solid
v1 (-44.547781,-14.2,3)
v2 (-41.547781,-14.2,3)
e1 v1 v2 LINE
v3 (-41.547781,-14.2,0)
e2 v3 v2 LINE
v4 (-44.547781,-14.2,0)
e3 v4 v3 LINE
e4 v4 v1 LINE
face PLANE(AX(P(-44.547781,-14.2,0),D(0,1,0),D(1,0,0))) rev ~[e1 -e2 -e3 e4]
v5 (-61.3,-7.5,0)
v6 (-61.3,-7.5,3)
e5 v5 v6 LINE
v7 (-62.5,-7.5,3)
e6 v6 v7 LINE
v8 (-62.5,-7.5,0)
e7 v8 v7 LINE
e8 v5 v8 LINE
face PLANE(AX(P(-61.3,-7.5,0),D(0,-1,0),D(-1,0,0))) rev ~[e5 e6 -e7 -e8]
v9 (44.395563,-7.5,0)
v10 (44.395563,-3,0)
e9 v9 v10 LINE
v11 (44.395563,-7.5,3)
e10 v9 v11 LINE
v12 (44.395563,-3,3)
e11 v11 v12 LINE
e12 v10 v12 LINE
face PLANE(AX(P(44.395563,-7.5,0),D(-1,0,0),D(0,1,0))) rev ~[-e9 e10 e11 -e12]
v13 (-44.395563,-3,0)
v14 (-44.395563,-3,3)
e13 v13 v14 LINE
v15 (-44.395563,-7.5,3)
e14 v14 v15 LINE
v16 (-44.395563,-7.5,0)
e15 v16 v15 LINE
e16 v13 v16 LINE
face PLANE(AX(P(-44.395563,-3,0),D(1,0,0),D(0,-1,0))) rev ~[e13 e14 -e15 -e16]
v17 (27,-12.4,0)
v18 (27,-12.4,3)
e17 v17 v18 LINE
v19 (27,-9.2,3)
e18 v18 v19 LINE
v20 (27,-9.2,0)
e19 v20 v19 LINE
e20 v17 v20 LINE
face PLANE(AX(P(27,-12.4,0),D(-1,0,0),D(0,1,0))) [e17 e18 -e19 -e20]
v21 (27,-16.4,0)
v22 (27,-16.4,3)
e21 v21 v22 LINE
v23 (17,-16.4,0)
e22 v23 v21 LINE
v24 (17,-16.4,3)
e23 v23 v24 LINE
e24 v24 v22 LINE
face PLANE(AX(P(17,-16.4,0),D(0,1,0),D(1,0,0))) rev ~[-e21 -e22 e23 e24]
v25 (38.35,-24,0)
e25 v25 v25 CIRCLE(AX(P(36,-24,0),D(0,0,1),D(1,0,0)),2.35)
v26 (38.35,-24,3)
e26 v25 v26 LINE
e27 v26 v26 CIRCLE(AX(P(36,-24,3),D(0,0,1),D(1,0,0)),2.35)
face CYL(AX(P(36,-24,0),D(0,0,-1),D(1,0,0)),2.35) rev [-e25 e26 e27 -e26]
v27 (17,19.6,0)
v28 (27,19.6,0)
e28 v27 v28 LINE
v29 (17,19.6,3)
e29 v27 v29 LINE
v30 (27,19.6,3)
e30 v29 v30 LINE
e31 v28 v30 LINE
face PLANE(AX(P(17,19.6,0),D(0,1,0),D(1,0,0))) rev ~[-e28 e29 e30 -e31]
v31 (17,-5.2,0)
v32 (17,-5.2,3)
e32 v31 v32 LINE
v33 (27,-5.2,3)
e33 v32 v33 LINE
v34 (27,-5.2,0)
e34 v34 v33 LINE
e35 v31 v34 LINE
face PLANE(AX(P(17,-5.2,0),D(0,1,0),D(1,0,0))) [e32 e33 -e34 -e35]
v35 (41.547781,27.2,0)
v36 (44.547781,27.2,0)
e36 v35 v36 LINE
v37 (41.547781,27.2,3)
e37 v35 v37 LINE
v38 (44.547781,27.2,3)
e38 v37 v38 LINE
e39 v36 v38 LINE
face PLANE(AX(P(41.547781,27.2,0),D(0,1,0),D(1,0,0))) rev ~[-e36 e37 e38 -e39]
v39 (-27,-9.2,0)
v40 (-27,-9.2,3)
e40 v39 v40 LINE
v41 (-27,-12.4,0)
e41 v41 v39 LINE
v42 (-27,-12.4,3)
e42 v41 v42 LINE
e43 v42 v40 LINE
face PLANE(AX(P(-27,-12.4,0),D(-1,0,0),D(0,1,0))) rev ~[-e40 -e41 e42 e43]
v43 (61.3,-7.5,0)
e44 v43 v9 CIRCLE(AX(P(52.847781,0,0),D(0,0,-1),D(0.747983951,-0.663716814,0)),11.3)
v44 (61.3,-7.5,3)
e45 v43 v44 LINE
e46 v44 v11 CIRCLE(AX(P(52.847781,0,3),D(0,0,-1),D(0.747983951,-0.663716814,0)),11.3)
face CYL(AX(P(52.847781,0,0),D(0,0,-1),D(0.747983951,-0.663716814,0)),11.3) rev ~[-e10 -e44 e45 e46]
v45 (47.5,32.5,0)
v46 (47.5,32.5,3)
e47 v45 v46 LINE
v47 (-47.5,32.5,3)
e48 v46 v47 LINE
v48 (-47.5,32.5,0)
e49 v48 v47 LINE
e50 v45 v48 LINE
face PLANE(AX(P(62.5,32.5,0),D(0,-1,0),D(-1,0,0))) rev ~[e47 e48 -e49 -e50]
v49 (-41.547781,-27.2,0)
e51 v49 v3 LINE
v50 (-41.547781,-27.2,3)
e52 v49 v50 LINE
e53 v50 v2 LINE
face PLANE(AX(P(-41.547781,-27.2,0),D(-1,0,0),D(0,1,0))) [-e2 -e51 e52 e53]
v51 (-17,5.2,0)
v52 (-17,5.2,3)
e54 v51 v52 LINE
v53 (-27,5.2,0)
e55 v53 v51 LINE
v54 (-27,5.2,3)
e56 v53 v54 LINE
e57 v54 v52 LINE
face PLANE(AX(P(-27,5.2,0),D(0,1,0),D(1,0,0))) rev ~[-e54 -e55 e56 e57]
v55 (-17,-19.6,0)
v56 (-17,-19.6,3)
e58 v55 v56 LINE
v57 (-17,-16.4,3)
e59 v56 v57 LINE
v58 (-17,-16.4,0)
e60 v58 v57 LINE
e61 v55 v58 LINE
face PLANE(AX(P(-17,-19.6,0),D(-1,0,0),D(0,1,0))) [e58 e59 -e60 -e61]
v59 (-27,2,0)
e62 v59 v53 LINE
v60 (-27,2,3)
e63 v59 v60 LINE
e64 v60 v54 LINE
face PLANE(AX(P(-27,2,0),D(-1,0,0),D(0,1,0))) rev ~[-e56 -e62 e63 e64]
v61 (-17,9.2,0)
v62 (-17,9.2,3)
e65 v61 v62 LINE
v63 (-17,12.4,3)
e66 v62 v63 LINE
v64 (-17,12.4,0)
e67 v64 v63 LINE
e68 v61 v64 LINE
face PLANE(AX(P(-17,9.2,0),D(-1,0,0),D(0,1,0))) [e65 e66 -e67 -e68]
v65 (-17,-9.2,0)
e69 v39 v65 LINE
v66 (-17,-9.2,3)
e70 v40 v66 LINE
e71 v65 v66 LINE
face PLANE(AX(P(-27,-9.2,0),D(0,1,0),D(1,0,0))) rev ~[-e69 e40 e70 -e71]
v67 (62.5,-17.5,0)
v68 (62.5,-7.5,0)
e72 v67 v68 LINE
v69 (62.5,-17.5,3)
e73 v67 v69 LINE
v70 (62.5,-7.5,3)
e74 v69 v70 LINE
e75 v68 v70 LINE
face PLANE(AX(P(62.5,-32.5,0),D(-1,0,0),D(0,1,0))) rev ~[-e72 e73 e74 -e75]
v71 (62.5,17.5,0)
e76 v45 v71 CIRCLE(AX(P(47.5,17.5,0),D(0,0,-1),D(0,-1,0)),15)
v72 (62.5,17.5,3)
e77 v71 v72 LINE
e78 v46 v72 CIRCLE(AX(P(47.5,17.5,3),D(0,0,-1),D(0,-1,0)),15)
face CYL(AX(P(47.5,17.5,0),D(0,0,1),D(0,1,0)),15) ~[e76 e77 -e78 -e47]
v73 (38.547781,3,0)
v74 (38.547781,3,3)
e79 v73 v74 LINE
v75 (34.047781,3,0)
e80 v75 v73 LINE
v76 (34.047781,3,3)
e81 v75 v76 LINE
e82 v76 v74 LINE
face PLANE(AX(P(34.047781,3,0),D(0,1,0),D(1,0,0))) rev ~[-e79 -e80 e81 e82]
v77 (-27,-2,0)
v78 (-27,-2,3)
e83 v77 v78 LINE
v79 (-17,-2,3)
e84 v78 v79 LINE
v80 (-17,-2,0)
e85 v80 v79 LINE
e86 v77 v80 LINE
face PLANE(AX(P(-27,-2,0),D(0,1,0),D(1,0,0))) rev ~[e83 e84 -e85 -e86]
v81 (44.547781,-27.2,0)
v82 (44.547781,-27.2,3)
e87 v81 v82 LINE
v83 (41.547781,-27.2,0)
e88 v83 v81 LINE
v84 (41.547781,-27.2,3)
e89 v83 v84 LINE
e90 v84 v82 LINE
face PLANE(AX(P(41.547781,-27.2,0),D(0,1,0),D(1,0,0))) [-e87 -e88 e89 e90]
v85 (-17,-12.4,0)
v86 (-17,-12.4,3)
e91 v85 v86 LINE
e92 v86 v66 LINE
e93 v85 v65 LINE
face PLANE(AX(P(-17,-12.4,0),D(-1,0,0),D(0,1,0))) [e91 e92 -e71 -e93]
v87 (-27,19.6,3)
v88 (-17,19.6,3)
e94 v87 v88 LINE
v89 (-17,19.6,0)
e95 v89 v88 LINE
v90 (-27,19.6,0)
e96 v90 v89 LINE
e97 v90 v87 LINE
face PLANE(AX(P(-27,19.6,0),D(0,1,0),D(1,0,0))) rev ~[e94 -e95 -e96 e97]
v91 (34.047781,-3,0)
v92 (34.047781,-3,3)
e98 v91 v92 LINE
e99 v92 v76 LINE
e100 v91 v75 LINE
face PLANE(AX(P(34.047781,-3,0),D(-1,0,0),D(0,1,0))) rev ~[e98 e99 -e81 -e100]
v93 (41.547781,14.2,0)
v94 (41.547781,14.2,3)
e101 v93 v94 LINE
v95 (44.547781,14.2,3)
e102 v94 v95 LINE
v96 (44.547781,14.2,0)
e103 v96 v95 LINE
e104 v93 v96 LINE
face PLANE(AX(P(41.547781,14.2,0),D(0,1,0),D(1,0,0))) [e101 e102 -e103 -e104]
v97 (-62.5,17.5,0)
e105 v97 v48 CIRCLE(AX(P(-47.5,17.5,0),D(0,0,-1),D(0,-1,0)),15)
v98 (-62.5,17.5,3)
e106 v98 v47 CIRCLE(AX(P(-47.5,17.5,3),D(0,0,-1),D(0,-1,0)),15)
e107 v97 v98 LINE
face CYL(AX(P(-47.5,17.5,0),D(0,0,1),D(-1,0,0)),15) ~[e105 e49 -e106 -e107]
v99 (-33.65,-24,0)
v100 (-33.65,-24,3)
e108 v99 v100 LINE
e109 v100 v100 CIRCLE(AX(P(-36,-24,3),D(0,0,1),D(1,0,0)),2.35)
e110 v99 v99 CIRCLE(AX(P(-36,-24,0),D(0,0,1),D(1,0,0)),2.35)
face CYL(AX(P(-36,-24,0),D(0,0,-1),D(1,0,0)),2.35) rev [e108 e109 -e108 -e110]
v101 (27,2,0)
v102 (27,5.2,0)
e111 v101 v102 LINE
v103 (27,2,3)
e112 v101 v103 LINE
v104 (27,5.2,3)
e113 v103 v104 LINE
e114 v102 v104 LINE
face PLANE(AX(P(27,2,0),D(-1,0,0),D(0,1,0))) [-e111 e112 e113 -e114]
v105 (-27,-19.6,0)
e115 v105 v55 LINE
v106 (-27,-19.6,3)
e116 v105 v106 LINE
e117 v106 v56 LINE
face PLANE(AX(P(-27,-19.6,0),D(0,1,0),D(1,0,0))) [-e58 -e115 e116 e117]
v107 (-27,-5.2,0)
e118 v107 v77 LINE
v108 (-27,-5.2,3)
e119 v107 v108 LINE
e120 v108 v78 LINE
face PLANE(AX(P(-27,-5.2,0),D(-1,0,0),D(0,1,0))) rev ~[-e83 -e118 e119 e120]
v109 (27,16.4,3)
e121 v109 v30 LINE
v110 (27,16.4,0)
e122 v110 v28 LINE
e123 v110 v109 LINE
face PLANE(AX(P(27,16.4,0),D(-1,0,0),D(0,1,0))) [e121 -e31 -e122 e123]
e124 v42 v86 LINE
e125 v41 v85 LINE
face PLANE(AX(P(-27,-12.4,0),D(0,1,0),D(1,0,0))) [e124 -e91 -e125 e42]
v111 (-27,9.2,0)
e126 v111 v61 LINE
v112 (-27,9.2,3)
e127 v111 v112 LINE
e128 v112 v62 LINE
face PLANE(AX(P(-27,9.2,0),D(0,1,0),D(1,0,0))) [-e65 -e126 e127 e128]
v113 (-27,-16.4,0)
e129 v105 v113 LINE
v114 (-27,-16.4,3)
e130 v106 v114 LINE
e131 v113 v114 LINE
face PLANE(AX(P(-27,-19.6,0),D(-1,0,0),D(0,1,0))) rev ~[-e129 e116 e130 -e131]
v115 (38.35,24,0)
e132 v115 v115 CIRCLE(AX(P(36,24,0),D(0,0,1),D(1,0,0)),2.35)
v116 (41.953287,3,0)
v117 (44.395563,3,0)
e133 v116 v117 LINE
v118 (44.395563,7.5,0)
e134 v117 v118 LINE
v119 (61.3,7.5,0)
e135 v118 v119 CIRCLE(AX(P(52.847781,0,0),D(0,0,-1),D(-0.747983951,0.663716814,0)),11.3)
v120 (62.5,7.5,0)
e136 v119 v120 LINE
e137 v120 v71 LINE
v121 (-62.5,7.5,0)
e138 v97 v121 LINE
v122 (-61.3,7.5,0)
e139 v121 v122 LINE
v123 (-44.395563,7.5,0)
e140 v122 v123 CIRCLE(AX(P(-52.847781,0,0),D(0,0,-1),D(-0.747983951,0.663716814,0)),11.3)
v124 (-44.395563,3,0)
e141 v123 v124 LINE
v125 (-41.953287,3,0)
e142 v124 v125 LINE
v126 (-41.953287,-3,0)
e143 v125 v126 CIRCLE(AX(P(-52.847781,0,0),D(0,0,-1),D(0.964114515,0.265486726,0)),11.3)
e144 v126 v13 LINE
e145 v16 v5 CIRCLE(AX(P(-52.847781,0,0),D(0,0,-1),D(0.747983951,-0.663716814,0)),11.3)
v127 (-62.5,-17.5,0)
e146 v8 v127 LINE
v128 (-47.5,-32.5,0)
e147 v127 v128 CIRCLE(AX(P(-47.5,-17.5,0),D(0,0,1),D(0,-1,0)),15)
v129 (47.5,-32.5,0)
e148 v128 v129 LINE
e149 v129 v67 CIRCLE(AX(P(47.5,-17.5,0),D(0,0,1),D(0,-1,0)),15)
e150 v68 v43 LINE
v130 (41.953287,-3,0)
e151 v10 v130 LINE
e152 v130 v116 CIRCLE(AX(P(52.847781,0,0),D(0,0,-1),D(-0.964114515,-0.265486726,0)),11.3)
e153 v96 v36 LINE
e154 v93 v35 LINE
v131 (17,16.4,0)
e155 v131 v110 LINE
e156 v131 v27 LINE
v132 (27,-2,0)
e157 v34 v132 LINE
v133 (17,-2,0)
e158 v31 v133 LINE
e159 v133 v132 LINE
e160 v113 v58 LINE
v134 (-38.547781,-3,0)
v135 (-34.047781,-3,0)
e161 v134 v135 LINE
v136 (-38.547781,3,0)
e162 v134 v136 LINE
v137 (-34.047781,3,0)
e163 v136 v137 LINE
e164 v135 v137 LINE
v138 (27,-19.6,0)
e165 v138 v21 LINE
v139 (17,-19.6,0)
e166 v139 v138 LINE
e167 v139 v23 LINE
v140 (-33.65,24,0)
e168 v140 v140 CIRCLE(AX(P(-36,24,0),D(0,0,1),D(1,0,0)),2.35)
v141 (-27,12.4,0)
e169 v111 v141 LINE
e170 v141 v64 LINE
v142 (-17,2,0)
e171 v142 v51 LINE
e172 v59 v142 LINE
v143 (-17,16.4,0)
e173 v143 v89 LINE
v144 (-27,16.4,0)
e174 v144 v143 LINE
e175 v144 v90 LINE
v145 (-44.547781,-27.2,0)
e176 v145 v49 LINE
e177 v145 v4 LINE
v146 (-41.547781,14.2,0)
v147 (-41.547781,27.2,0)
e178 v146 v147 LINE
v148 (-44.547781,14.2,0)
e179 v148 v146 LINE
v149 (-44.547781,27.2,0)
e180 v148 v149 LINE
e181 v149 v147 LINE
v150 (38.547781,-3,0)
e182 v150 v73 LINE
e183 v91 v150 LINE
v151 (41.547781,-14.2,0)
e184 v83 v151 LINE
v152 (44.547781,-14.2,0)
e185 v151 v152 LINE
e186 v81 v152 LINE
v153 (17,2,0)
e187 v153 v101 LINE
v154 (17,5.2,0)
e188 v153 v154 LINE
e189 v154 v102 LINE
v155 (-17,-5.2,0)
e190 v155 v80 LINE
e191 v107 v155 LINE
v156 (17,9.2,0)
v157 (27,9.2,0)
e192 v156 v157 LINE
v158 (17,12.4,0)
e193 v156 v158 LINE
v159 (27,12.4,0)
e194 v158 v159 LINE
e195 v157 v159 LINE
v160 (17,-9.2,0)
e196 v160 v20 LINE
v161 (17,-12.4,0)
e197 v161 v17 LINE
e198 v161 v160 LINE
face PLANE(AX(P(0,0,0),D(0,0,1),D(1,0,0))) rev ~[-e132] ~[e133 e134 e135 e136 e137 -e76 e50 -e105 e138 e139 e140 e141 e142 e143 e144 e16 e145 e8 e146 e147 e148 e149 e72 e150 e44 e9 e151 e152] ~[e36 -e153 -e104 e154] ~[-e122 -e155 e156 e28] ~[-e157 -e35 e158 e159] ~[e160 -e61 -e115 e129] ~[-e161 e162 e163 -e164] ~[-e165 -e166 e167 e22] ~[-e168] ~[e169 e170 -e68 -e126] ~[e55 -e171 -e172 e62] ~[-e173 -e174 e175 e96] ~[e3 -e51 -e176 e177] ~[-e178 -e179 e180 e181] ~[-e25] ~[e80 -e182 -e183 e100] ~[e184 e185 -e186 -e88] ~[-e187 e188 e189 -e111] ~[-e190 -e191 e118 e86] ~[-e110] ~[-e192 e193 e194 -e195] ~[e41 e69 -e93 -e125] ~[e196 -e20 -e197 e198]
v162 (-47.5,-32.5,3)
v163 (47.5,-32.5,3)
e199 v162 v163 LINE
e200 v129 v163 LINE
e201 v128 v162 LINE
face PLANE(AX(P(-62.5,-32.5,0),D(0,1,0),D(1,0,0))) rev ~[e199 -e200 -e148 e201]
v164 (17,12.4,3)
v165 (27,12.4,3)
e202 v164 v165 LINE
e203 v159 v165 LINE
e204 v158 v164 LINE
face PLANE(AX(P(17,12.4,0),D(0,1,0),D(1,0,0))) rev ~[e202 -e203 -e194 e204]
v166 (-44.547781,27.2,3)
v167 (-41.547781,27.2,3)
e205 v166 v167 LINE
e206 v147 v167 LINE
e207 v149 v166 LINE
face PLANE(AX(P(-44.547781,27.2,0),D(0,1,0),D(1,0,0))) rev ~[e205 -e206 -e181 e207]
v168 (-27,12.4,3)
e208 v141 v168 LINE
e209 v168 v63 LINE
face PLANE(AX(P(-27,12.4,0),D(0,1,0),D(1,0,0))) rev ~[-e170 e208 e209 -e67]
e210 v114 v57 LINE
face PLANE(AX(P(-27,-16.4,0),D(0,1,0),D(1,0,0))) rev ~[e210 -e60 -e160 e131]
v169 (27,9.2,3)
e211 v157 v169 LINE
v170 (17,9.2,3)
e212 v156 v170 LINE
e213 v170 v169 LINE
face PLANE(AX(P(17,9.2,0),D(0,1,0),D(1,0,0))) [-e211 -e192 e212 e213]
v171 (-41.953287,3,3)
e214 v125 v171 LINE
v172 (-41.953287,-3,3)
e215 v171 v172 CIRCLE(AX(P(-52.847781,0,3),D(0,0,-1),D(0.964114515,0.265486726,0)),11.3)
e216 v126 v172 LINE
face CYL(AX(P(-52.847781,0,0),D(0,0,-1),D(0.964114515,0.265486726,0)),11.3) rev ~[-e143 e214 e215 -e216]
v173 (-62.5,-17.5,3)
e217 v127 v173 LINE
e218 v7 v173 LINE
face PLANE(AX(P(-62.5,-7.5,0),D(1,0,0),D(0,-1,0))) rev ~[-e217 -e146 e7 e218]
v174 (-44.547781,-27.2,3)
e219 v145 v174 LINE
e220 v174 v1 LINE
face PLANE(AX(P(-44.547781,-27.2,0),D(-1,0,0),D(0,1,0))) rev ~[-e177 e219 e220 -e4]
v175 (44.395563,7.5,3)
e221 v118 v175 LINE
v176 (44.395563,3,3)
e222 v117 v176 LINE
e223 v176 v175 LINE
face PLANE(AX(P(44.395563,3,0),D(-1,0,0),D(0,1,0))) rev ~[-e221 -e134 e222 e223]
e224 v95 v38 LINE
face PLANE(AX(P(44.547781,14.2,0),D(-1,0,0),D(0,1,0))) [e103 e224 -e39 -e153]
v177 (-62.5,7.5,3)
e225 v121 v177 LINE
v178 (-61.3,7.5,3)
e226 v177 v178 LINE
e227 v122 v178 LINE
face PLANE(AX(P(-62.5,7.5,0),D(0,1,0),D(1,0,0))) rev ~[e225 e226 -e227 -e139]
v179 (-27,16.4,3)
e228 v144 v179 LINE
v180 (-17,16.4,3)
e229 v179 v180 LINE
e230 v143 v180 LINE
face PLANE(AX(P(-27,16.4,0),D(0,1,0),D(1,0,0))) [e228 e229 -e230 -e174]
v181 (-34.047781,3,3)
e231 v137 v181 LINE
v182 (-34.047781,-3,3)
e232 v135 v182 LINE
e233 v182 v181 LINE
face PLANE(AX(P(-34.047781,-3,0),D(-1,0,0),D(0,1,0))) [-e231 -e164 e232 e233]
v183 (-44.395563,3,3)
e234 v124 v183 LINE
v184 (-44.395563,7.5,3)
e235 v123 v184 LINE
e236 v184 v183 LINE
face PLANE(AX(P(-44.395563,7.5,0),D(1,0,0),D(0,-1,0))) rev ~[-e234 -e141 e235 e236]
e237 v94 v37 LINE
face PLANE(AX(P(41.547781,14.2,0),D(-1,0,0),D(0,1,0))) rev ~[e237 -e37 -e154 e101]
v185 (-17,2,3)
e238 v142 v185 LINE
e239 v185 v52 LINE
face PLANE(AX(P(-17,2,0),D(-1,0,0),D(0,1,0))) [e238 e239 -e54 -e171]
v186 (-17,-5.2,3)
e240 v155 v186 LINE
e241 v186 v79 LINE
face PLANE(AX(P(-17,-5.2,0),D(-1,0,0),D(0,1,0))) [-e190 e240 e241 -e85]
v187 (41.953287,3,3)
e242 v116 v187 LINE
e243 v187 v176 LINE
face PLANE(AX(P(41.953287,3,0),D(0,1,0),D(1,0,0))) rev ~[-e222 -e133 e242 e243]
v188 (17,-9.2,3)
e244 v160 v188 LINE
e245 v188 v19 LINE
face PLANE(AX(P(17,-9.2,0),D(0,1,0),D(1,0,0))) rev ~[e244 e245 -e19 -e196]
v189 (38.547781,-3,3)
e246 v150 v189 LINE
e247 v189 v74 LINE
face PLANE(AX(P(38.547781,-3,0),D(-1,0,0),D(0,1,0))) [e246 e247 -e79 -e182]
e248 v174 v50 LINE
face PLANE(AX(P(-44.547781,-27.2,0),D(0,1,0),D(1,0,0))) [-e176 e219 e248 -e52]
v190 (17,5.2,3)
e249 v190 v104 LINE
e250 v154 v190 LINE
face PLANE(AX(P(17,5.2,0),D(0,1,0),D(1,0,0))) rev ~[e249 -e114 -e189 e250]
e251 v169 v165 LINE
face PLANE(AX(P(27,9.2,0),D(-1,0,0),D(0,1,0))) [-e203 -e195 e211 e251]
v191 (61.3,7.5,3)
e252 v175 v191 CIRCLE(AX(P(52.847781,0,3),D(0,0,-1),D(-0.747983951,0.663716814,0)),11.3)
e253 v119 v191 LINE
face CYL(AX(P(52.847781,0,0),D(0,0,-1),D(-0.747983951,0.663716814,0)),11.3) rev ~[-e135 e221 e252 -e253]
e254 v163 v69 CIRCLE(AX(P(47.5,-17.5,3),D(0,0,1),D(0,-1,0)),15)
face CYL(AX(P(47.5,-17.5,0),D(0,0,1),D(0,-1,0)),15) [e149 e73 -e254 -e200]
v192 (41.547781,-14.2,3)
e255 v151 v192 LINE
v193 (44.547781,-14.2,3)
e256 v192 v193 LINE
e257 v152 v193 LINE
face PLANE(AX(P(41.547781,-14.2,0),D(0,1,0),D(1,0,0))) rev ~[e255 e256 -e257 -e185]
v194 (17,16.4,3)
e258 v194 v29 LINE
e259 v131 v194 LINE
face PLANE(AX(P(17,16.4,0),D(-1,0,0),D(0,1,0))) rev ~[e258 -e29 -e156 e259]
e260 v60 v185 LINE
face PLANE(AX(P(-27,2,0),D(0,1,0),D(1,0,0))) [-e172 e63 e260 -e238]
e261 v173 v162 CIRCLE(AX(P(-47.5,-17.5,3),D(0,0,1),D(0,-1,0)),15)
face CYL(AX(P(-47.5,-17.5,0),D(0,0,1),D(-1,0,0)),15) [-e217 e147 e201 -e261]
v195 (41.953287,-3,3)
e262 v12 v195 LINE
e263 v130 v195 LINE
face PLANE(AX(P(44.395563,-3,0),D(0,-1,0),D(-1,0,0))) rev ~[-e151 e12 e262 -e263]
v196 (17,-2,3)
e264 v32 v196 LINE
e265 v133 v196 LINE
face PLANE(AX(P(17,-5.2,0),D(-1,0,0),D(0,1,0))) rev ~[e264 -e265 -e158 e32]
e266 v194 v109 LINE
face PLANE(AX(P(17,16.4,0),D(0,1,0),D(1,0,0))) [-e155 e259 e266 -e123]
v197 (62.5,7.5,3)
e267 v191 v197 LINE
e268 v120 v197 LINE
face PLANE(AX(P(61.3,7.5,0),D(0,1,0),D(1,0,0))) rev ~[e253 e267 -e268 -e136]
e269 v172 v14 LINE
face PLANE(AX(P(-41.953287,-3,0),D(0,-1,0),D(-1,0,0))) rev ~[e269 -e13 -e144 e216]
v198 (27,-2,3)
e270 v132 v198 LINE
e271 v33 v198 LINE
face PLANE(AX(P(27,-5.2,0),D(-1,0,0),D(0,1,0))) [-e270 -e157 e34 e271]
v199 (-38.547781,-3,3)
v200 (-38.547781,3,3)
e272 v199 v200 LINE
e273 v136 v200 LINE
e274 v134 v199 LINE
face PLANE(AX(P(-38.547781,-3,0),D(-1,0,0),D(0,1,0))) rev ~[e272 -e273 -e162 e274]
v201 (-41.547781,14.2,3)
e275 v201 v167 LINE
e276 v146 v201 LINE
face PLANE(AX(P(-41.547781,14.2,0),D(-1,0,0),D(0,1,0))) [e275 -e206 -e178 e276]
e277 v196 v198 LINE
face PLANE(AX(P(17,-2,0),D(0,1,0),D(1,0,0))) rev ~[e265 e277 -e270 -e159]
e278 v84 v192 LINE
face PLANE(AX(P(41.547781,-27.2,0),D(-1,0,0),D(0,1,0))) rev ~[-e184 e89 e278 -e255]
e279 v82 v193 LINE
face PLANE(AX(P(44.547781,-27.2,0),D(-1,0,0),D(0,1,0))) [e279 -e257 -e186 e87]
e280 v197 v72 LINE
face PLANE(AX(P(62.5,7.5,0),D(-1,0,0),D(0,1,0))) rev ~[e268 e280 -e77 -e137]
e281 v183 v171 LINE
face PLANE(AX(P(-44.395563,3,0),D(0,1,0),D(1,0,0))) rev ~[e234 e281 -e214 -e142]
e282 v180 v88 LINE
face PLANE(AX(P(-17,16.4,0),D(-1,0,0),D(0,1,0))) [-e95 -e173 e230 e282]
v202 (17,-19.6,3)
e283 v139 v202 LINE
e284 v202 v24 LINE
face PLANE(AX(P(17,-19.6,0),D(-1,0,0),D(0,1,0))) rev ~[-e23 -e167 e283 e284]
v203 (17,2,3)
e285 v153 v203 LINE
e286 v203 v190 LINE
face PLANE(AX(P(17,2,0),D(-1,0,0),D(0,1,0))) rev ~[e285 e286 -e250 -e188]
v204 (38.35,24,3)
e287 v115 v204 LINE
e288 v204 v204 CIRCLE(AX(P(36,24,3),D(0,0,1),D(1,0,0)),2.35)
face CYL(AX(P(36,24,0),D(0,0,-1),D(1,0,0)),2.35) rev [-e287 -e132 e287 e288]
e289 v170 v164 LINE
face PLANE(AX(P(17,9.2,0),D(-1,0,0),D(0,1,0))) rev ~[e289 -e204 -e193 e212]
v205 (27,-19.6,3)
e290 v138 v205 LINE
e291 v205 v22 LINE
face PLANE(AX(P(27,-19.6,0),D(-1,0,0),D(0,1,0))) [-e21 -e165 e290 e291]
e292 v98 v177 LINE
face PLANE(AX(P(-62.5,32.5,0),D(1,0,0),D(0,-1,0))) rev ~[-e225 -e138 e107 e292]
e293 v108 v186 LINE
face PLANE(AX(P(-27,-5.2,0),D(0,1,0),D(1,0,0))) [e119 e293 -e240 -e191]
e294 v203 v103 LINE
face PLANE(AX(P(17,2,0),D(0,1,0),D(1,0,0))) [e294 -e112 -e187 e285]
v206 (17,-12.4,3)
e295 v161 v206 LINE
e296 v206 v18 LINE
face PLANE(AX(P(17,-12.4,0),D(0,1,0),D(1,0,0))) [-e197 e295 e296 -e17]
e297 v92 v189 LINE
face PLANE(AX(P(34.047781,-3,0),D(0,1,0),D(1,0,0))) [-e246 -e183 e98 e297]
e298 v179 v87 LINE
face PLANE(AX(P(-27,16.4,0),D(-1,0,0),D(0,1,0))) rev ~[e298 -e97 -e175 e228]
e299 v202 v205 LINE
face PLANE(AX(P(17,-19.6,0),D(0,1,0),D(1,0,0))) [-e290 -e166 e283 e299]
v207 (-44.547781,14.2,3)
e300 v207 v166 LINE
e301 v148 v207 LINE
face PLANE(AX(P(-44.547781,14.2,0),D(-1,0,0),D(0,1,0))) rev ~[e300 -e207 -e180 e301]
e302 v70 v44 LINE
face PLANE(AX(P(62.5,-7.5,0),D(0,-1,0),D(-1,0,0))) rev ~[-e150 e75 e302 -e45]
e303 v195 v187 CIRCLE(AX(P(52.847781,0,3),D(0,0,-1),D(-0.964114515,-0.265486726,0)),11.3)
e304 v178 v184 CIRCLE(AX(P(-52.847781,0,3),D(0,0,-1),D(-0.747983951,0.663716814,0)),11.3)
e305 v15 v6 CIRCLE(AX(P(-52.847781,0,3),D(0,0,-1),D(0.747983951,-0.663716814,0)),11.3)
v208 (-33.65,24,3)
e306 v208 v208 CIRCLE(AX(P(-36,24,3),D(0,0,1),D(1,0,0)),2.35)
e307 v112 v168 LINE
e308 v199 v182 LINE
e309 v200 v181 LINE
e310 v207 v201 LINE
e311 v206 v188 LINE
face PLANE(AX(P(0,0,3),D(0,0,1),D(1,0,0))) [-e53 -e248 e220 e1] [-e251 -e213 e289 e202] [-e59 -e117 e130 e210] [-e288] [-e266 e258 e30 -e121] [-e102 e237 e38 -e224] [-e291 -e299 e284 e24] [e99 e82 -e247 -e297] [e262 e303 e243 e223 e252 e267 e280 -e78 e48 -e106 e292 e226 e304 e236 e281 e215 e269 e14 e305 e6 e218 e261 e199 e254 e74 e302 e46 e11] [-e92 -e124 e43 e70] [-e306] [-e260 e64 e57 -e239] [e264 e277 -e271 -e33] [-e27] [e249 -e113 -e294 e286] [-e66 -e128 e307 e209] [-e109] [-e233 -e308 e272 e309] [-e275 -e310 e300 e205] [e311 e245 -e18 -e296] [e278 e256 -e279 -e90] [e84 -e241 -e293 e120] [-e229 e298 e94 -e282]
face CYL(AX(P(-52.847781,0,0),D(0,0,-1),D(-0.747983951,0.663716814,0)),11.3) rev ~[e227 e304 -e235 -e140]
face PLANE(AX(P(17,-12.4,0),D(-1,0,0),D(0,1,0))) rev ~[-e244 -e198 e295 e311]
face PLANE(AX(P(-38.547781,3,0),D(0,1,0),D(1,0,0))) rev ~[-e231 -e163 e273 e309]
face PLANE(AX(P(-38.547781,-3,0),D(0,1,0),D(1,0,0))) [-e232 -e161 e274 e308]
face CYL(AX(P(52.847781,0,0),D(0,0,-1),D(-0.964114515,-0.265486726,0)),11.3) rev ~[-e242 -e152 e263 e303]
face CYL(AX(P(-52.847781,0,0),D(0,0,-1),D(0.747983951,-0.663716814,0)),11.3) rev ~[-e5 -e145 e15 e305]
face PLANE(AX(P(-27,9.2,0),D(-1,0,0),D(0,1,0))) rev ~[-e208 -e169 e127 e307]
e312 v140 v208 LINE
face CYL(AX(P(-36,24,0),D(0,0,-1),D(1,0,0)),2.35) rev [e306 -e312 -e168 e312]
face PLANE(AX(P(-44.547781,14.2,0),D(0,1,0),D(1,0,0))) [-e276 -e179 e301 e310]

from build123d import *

# Parameters (mm, degrees)
SKICA2_R                = 2.35
SKICA2_W                = 4.5
SKICA2_H                = 6
SKICA2_W_2              = 3
SKICA2_H_2              = 13
SKICA2_W_3              = 10
SKICA2_H_3              = 3.2
P_IDAT_VYSUNUT_M1_DEPTH = 3
ZAOBLIT1_R              = 15


with BuildPart() as part:
    # Skica2 → Přidat vysunutím1 (new body)
    with BuildSketch(Plane.XY):
        with BuildLine():
            Line((-62.5, 7.5), (-61.3, 7.5))
            ThreePointArc((-61.3, 7.5), (-52.847781356, 11.3), (-44.395562713, 7.5))
            Line((-44.395562713, 7.5), (-44.395562713, 3))
            Line((-44.395562713, 3), (-41.953287334, 3))
            ThreePointArc((-41.953287334, 3), (-41.547781356, 0), (-41.953287334, -3))
            Line((-41.953287334, -3), (-44.395562713, -3))
            Line((-44.395562713, -3), (-44.395562713, -7.5))
            ThreePointArc((-44.395562713, -7.5), (-52.847781356, -11.3), (-61.3, -7.5))
            Line((-61.3, -7.5), (-62.5, -7.5))
            Line((-62.5, -7.5), (-62.5, -32.5))
            Line((-62.5, -32.5), (62.5, -32.5))
            Line((62.5, -32.5), (62.5, -7.5))
            Line((62.5, -7.5), (61.3, -7.5))
            ThreePointArc((61.3, -7.5), (52.847781356, -11.3), (44.395562713, -7.5))
            Line((44.395562713, -7.5), (44.395562713, -3))
            Line((44.395562713, -3), (41.953287334, -3))
            ThreePointArc((41.953287334, -3), (41.547781356, 0), (41.953287334, 3))
            Line((41.953287334, 3), (44.395562713, 3))
            Line((44.395562713, 3), (44.395562713, 7.5))
            ThreePointArc((44.395562713, 7.5), (52.847781356, 11.3), (61.3, 7.5))
            Line((61.3, 7.5), (62.5, 7.5))
            Line((62.5, 7.5), (62.5, 32.5))
            Line((62.5, 32.5), (-62.5, 32.5))
            Line((-62.5, 32.5), (-62.5, 7.5))
        make_face()
        with Locations((-36, 24)):
            Circle(SKICA2_R, mode=Mode.SUBTRACT)
        with Locations((36, 24)):
            Circle(SKICA2_R, mode=Mode.SUBTRACT)
        with Locations((-36, -24)):
            Circle(SKICA2_R, mode=Mode.SUBTRACT)
        with Locations((36, -24)):
            Circle(SKICA2_R, mode=Mode.SUBTRACT)
        with Locations((-36.297781356, 0)):
            Rectangle(SKICA2_W, SKICA2_H, mode=Mode.SUBTRACT)
        with Locations((-43.047781356, -20.7)):
            Rectangle(SKICA2_W_2, SKICA2_H_2, mode=Mode.SUBTRACT)
        with Locations((-43.047781356, 20.7)):
            Rectangle(SKICA2_W_2, SKICA2_H_2, mode=Mode.SUBTRACT)
        with Locations((43.047781356, -20.7)):
            Rectangle(SKICA2_W_2, SKICA2_H_2, mode=Mode.SUBTRACT)
        with Locations((43.047781356, 20.7)):
            Rectangle(SKICA2_W_2, SKICA2_H_2, mode=Mode.SUBTRACT)
        with Locations((36.297781356, 0)):
            Rectangle(SKICA2_W, SKICA2_H, mode=Mode.SUBTRACT)
        with Locations((-22, 18)):
            Rectangle(SKICA2_W_3, SKICA2_H_3, mode=Mode.SUBTRACT)
        with Locations((-22, 10.8)):
            Rectangle(SKICA2_W_3, SKICA2_H_3, mode=Mode.SUBTRACT)
        with Locations((-22, 3.6)):
            Rectangle(SKICA2_W_3, SKICA2_H_3, mode=Mode.SUBTRACT)
        with Locations((-22, -3.6)):
            Rectangle(SKICA2_W_3, SKICA2_H_3, mode=Mode.SUBTRACT)
        with Locations((-22, -10.8)):
            Rectangle(SKICA2_W_3, SKICA2_H_3, mode=Mode.SUBTRACT)
        with Locations((-22, -18)):
            Rectangle(SKICA2_W_3, SKICA2_H_3, mode=Mode.SUBTRACT)
        with Locations((22, -18)):
            Rectangle(SKICA2_W_3, SKICA2_H_3, mode=Mode.SUBTRACT)
        with Locations((22, -10.8)):
            Rectangle(SKICA2_W_3, SKICA2_H_3, mode=Mode.SUBTRACT)
        with Locations((22, -3.6)):
            Rectangle(SKICA2_W_3, SKICA2_H_3, mode=Mode.SUBTRACT)
        with Locations((22, 3.6)):
            Rectangle(SKICA2_W_3, SKICA2_H_3, mode=Mode.SUBTRACT)
        with Locations((22, 10.8)):
            Rectangle(SKICA2_W_3, SKICA2_H_3, mode=Mode.SUBTRACT)
        with Locations((22, 18)):
            Rectangle(SKICA2_W_3, SKICA2_H_3, mode=Mode.SUBTRACT)
    extrude(amount=P_IDAT_VYSUNUT_M1_DEPTH)

    # Zaoblit1
    zaoblit1_edges = [part.edges().sort_by_distance(p)[0] for p in [
        (-62.5, 32.5, 1.5),
        (62.5, 32.5, 1.5),
        (62.5, -32.5, 1.5),
        (-62.5, -32.5, 1.5),
    ]]
    fillet(zaoblit1_edges, radius=ZAOBLIT1_R)


solid = part.part
